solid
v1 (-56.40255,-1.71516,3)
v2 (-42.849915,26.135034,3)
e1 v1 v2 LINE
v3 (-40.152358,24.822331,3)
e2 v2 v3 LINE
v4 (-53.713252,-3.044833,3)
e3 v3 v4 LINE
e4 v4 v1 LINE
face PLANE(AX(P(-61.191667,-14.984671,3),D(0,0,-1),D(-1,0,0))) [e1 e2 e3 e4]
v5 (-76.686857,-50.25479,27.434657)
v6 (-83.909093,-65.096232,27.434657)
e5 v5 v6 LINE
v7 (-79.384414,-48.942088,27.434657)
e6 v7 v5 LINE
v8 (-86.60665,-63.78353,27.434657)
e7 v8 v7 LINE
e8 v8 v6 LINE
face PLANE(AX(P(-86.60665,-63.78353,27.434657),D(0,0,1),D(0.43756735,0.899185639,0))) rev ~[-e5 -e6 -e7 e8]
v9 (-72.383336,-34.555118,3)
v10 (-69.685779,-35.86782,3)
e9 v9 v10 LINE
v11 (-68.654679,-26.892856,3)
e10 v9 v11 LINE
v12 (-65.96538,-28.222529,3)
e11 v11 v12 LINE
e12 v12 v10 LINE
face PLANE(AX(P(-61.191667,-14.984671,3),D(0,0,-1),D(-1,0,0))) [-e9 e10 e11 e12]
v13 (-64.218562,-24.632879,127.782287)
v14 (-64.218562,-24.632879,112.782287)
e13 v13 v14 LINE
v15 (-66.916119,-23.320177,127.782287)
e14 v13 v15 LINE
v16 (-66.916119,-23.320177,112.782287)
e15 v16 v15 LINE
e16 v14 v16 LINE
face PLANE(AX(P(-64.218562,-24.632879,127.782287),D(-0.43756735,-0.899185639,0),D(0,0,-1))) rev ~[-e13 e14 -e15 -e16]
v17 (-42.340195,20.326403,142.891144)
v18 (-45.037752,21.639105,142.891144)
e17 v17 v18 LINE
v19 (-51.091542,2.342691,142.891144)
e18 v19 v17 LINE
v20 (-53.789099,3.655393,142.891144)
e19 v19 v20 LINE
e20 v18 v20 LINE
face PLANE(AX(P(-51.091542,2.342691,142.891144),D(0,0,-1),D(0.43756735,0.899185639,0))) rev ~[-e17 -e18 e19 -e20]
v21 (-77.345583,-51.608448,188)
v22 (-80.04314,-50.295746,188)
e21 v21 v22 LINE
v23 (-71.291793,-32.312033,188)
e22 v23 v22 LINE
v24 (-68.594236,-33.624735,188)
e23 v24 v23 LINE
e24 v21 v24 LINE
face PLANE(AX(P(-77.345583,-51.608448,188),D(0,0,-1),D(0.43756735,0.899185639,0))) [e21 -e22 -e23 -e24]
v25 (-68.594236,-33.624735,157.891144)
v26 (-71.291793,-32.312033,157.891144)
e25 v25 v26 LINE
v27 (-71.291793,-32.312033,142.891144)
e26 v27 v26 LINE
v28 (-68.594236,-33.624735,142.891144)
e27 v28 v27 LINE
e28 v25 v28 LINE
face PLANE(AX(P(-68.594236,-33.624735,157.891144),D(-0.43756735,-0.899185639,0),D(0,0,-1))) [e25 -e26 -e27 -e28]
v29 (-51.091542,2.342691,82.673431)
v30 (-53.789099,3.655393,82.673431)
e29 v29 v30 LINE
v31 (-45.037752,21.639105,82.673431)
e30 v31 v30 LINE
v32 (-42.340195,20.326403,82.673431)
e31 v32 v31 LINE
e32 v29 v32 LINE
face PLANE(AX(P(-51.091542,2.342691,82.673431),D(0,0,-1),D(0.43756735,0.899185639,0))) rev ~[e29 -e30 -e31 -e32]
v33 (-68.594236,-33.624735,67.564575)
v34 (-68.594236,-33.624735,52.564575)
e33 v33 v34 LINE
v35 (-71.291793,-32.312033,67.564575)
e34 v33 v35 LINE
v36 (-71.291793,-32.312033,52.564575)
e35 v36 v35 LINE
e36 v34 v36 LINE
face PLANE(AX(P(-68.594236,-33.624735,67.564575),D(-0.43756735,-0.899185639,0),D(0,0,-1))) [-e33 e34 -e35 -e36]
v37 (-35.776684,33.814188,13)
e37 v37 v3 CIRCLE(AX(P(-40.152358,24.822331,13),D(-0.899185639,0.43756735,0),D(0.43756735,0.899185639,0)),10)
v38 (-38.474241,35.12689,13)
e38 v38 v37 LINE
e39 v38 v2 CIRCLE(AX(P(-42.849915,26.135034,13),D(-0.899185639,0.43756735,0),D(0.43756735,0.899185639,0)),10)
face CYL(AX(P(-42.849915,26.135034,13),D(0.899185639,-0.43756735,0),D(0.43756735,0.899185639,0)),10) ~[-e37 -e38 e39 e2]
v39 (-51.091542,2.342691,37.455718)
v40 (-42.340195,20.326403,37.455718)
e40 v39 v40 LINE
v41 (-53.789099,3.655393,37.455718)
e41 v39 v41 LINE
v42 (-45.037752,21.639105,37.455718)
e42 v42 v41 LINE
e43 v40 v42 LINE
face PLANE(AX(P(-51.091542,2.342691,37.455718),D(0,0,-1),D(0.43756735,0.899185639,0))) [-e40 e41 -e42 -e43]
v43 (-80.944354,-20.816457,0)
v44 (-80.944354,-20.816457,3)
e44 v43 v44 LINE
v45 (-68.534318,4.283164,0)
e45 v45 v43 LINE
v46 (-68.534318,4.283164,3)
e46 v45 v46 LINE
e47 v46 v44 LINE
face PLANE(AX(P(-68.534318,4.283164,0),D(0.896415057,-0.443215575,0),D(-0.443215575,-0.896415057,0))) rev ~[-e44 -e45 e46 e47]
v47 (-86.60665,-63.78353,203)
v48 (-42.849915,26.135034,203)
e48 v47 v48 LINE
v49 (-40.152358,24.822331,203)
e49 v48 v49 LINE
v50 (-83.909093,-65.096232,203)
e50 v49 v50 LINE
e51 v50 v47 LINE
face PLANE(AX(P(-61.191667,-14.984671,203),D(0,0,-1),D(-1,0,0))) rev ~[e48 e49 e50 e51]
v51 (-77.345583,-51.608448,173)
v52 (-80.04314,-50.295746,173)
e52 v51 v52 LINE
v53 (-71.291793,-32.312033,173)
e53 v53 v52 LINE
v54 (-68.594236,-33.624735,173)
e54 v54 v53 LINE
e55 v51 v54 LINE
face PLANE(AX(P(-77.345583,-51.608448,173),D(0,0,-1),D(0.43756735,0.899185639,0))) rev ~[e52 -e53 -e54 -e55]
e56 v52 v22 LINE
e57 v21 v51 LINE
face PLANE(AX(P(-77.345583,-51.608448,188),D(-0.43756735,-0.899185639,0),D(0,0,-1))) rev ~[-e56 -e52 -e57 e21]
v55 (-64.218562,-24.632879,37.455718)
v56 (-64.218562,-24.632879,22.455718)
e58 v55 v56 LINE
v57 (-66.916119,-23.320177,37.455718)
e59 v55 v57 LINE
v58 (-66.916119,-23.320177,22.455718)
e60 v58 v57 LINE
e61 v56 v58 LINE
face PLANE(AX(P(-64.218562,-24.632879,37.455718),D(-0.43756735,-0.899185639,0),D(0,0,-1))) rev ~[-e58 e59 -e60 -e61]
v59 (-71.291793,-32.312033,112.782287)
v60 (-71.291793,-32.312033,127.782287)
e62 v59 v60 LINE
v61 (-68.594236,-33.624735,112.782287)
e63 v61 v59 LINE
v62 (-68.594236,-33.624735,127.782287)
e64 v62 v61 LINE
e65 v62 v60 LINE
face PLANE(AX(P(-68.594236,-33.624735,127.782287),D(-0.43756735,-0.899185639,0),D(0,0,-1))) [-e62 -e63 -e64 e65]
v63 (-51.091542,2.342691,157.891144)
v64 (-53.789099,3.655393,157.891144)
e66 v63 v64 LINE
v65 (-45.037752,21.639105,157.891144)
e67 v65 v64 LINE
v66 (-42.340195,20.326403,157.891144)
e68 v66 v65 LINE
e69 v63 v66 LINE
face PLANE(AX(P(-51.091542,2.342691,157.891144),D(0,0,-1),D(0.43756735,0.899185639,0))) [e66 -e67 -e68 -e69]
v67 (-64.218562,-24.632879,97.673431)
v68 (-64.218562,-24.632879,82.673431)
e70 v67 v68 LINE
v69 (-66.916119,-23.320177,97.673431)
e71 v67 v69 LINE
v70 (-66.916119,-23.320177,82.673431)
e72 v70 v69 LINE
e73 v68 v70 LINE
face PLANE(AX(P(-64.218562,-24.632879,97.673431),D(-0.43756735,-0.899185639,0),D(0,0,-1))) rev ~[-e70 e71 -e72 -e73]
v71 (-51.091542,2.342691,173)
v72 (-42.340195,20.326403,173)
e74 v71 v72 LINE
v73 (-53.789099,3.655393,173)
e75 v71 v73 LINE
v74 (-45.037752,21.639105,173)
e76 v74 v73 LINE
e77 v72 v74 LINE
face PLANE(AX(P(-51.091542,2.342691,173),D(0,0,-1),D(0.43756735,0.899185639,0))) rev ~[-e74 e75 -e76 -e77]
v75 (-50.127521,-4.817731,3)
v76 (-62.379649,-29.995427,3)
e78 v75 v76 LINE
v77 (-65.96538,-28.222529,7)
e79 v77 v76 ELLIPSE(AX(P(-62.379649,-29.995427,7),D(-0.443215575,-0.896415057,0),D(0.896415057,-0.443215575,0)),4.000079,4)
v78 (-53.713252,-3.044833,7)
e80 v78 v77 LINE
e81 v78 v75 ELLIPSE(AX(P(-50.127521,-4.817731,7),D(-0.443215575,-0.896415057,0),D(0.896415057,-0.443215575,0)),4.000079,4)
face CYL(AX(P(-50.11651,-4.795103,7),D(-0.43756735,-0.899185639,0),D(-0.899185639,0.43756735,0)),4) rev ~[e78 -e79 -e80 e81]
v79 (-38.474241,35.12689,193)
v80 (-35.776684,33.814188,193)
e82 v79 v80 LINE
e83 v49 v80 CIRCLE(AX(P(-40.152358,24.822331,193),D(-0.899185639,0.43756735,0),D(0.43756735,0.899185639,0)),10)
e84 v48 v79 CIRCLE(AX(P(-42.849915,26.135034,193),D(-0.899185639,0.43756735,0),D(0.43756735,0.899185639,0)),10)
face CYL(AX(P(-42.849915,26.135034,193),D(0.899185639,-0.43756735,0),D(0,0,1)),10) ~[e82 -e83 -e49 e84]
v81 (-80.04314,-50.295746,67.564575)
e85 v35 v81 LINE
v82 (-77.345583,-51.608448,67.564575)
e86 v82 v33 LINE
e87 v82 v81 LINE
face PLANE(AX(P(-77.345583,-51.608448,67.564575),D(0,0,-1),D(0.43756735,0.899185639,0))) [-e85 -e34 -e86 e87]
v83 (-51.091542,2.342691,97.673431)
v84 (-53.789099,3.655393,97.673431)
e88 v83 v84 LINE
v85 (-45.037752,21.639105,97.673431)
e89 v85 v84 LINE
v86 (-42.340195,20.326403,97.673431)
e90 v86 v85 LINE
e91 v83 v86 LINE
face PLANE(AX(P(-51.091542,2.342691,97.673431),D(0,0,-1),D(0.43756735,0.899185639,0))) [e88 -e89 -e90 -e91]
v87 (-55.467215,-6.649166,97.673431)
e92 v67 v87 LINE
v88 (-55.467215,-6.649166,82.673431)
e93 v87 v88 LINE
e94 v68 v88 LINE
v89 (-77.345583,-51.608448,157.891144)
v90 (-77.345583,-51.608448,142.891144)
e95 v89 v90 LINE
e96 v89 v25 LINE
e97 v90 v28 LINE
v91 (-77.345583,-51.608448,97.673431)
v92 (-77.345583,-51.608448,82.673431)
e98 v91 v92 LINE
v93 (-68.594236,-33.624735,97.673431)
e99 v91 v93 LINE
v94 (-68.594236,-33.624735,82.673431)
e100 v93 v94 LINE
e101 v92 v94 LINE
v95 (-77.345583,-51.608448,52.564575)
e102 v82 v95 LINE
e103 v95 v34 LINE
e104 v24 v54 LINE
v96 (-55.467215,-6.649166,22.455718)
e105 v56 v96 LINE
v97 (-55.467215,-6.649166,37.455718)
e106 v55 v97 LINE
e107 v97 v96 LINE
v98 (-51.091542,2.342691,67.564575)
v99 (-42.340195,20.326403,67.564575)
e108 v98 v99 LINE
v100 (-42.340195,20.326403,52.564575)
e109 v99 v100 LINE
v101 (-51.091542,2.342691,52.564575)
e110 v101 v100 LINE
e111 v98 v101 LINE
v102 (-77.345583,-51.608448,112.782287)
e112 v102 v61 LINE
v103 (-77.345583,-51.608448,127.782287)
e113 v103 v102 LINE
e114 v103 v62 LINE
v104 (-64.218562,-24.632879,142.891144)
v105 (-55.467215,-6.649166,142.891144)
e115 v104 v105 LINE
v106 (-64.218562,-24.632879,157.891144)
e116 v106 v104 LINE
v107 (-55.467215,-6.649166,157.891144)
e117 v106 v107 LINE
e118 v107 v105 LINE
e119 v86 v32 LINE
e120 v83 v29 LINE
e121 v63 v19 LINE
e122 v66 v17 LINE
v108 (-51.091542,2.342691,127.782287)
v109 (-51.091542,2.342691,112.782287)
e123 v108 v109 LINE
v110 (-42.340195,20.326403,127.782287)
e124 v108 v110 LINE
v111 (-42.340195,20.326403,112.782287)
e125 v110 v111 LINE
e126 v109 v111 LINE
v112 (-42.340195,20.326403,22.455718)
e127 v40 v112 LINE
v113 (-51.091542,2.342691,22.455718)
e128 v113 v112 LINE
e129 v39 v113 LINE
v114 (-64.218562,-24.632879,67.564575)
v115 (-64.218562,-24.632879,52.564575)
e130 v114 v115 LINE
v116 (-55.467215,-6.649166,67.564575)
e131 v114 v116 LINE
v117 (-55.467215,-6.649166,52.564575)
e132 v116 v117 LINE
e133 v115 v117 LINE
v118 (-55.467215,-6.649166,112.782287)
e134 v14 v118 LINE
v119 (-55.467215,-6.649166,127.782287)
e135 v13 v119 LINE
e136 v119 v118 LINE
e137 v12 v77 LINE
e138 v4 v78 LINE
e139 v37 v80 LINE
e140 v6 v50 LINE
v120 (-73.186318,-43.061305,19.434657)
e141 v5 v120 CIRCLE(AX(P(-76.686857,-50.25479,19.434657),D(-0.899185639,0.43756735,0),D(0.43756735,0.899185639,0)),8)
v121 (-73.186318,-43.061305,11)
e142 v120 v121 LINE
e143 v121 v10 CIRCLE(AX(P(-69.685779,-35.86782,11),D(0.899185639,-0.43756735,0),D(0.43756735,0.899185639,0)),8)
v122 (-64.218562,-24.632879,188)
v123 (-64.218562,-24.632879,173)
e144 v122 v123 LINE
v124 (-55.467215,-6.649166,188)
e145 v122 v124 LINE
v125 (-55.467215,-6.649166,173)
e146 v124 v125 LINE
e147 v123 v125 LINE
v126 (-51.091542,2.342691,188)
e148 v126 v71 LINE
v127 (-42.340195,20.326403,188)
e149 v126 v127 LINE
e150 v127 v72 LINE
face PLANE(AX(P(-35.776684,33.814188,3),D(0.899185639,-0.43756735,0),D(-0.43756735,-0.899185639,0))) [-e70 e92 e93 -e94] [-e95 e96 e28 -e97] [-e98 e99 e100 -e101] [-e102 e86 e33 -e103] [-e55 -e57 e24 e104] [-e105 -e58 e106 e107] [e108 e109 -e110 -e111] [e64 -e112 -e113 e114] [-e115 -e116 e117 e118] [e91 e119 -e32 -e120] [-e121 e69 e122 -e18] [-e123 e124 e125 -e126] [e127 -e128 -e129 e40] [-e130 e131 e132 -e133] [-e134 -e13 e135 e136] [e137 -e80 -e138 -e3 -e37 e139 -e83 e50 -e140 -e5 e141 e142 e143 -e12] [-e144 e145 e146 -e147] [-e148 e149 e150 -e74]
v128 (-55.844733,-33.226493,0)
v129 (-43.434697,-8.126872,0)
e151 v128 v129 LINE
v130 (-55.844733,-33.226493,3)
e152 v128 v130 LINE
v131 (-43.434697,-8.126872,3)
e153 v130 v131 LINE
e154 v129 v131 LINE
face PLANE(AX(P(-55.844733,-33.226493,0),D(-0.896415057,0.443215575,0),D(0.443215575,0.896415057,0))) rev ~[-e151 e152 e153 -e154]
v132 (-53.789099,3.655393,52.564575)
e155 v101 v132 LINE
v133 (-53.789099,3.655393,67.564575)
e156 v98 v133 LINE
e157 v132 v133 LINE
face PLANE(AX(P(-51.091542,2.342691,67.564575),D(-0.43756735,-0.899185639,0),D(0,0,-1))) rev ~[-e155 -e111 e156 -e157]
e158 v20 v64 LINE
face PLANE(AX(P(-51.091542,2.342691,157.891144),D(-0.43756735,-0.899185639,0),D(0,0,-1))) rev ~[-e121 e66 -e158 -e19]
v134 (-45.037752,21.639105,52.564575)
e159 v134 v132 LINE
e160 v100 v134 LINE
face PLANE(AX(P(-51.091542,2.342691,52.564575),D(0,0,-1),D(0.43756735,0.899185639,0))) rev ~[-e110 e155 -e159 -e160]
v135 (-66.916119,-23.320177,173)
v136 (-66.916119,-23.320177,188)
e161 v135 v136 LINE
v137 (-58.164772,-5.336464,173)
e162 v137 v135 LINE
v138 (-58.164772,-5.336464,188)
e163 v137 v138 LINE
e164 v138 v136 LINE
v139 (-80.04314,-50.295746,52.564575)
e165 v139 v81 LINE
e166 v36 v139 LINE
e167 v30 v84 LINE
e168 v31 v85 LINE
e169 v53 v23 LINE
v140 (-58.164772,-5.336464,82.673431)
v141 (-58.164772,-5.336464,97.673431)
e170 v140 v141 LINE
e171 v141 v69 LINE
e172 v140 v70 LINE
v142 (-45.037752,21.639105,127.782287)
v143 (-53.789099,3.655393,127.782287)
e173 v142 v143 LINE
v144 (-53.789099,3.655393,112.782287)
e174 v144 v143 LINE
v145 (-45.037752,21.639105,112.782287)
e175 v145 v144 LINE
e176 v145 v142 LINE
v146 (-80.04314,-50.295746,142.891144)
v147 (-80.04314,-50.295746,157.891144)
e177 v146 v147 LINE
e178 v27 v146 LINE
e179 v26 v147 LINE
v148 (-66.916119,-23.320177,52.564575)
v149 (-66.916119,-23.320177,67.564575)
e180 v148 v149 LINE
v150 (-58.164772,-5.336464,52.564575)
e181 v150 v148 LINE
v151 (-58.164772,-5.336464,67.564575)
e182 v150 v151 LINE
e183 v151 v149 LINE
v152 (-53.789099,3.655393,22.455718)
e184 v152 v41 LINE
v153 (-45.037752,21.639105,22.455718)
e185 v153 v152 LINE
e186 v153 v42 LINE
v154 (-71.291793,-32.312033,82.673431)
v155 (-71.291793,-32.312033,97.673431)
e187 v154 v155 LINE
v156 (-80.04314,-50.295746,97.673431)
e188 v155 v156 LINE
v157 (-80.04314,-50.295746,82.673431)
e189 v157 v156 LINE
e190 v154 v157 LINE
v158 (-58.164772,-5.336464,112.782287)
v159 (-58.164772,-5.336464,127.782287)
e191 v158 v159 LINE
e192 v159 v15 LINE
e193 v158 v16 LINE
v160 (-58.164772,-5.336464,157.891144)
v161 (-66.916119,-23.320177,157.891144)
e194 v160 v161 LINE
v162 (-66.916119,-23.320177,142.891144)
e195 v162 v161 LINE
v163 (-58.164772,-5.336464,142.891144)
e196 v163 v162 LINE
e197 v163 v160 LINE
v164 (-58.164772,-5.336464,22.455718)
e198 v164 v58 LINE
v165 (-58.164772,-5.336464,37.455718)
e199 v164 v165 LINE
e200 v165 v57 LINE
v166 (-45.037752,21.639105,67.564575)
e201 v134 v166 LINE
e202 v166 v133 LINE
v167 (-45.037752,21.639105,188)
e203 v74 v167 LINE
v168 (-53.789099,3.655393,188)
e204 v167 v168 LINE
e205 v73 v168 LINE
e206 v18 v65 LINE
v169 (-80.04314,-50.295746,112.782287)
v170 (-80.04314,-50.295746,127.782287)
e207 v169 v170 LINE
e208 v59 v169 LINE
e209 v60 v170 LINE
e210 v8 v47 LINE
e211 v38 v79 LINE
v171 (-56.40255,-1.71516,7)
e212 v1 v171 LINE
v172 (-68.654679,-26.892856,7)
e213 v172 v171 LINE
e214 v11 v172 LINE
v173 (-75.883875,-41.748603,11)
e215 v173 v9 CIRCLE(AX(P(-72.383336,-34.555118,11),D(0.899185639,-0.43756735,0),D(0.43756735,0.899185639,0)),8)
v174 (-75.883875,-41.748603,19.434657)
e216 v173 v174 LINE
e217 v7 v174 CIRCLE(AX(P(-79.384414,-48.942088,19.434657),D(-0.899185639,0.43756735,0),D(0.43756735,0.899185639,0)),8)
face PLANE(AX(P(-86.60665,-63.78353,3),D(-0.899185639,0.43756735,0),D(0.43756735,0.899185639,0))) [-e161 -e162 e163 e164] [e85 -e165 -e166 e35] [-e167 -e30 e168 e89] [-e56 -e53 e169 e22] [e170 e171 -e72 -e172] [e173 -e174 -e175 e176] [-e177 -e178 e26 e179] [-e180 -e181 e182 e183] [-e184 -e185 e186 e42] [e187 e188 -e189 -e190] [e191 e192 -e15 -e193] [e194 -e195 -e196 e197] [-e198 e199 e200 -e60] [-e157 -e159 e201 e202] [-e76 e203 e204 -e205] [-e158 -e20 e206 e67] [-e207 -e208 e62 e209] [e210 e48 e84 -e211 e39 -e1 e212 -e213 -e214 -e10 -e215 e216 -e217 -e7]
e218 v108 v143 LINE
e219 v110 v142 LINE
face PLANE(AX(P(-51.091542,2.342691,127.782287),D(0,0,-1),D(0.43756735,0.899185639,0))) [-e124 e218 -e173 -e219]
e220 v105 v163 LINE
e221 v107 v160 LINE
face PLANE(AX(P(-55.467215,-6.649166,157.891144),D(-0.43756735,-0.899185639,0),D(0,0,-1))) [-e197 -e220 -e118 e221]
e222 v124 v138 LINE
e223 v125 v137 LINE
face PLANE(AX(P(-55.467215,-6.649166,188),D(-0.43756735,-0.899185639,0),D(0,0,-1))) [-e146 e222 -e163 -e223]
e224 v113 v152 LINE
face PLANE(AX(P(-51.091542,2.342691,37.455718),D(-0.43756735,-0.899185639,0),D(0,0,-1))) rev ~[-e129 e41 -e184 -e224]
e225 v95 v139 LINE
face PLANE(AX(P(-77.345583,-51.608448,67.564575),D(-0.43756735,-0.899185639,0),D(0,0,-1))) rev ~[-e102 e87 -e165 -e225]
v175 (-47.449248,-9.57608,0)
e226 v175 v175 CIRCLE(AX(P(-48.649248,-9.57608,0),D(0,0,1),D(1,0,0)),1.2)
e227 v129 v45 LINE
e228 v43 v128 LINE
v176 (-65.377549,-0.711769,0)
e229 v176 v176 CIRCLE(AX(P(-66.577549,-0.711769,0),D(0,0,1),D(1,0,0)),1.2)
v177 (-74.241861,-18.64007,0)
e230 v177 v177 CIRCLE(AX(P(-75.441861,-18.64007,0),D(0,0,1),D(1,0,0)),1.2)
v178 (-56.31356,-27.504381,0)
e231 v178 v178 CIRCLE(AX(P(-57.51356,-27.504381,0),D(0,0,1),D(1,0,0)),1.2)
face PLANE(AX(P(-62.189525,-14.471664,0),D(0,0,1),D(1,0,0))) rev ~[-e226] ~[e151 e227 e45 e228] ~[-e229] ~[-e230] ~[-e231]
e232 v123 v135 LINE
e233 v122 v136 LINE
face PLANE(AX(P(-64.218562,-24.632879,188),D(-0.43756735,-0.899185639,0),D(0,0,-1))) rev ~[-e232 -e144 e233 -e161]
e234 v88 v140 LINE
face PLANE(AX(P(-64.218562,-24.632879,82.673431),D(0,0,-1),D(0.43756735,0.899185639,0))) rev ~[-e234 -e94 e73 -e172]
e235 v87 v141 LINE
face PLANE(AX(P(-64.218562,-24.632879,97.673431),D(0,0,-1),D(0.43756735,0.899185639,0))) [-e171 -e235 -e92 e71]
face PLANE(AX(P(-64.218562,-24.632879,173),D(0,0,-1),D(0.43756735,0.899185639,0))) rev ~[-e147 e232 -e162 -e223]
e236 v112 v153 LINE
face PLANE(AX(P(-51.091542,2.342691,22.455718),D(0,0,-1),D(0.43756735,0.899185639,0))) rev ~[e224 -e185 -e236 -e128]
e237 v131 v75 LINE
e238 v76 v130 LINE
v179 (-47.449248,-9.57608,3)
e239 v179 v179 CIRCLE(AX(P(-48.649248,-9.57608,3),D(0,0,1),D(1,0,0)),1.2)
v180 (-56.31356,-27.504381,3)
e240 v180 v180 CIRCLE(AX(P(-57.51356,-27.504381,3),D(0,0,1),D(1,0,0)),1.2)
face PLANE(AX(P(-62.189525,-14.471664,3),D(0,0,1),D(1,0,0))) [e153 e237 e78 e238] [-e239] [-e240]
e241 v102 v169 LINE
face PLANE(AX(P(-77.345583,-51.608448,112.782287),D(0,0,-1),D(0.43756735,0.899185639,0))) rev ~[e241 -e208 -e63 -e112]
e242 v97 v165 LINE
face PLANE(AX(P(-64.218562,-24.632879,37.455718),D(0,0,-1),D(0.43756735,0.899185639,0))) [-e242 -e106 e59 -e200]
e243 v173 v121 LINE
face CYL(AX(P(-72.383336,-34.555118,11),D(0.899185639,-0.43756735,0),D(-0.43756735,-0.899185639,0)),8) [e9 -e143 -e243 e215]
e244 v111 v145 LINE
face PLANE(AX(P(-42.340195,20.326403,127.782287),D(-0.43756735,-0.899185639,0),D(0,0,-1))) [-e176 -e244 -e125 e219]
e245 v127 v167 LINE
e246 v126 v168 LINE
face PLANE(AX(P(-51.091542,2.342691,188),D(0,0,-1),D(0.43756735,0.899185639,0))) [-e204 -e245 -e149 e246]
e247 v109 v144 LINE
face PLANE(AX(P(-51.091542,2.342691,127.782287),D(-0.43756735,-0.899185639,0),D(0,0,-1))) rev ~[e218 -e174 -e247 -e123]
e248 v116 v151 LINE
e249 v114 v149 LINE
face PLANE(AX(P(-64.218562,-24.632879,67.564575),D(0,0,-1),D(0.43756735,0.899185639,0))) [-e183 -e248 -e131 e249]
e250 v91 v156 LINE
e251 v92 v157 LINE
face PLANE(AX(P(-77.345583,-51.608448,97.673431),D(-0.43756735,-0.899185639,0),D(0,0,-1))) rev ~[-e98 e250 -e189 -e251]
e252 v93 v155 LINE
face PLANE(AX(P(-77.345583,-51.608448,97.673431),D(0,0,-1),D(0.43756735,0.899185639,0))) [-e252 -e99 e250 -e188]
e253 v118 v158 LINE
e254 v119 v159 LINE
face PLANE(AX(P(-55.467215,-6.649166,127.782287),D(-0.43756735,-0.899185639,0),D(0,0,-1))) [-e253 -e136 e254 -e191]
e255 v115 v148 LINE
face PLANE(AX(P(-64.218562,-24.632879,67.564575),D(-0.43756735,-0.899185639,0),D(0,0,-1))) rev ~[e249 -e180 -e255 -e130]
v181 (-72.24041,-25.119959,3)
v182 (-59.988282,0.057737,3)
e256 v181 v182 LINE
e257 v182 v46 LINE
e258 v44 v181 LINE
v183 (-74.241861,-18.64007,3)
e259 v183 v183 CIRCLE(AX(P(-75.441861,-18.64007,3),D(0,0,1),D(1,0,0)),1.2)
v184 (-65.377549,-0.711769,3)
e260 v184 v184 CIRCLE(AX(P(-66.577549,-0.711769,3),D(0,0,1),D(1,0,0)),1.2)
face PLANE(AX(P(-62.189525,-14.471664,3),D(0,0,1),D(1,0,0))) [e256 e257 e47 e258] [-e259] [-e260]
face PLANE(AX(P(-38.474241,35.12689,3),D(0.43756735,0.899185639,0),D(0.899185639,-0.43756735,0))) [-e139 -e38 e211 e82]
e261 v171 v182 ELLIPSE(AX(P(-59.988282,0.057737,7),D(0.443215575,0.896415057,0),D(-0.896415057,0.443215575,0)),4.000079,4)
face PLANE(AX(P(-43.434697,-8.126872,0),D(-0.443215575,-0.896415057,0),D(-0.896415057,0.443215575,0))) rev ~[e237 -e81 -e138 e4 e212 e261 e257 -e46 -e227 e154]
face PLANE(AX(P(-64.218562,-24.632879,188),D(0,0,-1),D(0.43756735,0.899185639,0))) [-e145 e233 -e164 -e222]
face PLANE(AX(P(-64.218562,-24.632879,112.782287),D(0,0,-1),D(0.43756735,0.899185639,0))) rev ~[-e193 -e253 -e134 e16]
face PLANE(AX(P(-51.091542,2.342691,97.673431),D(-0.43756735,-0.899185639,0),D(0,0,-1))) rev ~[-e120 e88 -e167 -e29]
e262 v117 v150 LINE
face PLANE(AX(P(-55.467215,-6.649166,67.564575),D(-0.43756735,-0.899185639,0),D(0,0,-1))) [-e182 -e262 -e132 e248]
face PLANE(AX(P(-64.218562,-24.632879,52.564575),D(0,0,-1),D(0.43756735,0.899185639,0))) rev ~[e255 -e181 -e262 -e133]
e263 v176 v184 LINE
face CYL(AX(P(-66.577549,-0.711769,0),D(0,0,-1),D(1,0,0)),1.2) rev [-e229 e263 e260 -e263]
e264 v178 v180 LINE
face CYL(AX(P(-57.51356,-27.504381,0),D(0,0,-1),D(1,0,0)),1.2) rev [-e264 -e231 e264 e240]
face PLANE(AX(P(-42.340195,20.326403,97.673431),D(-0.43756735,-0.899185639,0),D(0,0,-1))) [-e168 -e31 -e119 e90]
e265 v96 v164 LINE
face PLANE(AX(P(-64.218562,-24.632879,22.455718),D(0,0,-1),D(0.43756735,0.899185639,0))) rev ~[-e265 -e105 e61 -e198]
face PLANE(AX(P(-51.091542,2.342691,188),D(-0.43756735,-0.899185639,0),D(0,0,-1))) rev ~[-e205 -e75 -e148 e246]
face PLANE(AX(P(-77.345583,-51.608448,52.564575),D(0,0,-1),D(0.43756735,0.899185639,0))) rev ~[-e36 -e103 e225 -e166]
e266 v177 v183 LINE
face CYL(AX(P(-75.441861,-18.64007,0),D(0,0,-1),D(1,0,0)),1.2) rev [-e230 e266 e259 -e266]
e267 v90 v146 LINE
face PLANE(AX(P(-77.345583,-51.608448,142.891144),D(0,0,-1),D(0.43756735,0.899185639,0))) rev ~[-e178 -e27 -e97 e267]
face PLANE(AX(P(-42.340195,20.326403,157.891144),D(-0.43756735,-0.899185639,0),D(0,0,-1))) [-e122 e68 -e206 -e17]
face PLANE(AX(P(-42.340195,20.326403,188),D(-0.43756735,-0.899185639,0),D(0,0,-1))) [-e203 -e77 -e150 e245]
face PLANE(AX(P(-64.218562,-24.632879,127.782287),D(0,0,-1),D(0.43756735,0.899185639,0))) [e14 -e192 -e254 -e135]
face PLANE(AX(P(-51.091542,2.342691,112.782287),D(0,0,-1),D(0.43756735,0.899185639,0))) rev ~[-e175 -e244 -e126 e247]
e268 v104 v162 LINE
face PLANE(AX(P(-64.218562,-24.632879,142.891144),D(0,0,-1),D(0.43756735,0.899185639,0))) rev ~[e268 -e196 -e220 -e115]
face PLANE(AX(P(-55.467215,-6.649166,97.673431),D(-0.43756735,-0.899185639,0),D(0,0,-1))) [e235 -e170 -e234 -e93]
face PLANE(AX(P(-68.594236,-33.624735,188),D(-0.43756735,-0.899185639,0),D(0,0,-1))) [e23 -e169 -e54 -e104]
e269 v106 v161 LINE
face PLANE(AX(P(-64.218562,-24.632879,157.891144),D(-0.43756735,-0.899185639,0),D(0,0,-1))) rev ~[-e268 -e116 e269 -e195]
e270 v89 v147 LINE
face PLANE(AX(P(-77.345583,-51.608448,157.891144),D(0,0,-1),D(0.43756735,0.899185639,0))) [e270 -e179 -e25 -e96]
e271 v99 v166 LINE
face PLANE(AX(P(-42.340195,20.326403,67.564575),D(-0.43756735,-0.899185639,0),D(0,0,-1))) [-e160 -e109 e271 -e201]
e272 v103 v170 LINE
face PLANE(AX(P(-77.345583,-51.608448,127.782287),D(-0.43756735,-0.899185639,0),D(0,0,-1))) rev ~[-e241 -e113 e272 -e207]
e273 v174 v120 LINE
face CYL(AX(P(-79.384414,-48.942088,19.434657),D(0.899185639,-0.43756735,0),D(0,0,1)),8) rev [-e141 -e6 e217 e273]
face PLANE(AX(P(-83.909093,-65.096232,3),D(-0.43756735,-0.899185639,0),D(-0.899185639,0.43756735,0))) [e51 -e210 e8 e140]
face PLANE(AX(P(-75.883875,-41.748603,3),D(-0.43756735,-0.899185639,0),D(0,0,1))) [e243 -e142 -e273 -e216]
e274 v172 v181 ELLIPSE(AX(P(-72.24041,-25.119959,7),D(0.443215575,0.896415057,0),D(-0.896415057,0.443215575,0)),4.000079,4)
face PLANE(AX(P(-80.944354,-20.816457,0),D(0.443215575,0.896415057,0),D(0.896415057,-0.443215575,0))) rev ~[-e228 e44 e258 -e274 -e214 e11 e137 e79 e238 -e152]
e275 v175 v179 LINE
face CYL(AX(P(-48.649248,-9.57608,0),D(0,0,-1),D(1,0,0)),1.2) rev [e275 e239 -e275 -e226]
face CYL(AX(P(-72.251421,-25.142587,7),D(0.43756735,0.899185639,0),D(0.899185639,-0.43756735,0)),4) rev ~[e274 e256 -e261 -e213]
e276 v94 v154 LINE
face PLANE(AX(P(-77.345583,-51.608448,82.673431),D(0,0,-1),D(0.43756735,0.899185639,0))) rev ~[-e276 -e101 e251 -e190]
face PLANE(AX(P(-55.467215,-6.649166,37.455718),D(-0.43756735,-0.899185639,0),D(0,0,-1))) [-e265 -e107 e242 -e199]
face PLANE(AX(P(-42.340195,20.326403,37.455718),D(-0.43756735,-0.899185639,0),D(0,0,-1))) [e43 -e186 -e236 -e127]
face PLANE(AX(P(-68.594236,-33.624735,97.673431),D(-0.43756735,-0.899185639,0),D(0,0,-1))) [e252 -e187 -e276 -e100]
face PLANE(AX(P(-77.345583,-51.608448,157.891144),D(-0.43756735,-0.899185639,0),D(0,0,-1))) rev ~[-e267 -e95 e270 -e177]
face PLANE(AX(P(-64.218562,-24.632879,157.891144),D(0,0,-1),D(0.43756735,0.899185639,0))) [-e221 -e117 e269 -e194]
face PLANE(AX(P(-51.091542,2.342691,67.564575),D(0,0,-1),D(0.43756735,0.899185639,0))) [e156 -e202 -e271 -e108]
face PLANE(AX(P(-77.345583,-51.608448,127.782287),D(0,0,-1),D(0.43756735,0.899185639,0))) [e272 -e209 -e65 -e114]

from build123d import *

# Parameters (mm, degrees)
SKETCH_1_R          = 1.2
EXTRUDE_1_DEPTH     = 3
EXTRUDE_2_DEPTH     = 200
FILLET_1_R          = 4
SKETCH_4_W          = 24.434656606
SKETCH_4_H          = 24.505426632
CUT_EXTRUDE_1_DEPTH = 4
FILLET_3_R          = 8
SKETCH_5_W          = 15
SKETCH_5_H          = 20
CUT_EXTRUDE_2_DEPTH = 10
FILLET_4_R          = 10
FILLET_5_R          = 10


with BuildPart() as part:
    # 草图1 → 凸台-拉伸1 (new body)
    with BuildSketch(Plane.XY):
        Polygon((-68.534318099, 4.283164377), (-80.94435421, -20.816457208), (-55.844732625, -33.22649332), (-43.434696514, -8.126871734), align=None)
        with Locations((-66.577549394, -0.711768645)):
            Circle(SKETCH_1_R, mode=Mode.SUBTRACT)
        with Locations((-75.441860902, -18.640069777)):
            Circle(SKETCH_1_R, mode=Mode.SUBTRACT)
        with Locations((-57.51355977, -27.504381286)):
            Circle(SKETCH_1_R, mode=Mode.SUBTRACT)
        with Locations((-48.649248262, -9.576080153)):
            Circle(SKETCH_1_R, mode=Mode.SUBTRACT)
    extrude(amount=EXTRUDE_1_DEPTH)

    # 草图2 → 凸台-拉伸2 (add)
    with BuildSketch(Plane.XY.offset(3)):
        Polygon((-86.606649797, -63.783530386), (-38.474241258, 35.126889936), (-35.77668434, 33.814187885), (-83.909092879, -65.096232437), align=None)
    extrude(amount=EXTRUDE_2_DEPTH)

    # 圆角1
    fillet_1_edges = [part.edges().sort_by_distance(p)[0] for p in [
        (-59.839316246, -15.633681193, 3),
        (-62.528614635, -14.304008154, 3),
    ]]
    fillet(fillet_1_edges, radius=FILLET_1_R)

    # 草图4 → 切除-拉伸1 (cut)
    with BuildSketch(Plane(origin=(-44.928588602, 21.863431321, 0), x_dir=(0, 0, 1), z_dir=(-0.8991856392880848, 0.43756735035658034, 0))):
        with Locations((15.217328303, -82.996763505)):
            Rectangle(SKETCH_4_W, SKETCH_4_H)
    extrude(amount=-CUT_EXTRUDE_1_DEPTH, mode=Mode.SUBTRACT)

    # 圆角3
    fillet_3_edges = [part.edges().sort_by_distance(p)[0] for p in [
        (-74.535096738, -42.4049537, 3),
        (-74.535096738, -42.4049537, 27.434656606),
    ]]
    fillet(fillet_3_edges, radius=FILLET_3_R)

    # 草图5 → 切除-拉伸2 (cut)
    with BuildSketch(Plane(origin=(-42.231031684, 20.55072927, 0), x_dir=(0, 0, -1), z_dir=(0.8991856392880848, -0.4375673503565804, 0))):
        with Locations((-60.064574797, -10.249476821)):
            Rectangle(SKETCH_5_W, SKETCH_5_H)
        with Locations((-29.955718497, -10.249476821)):
            Rectangle(SKETCH_5_W, SKETCH_5_H)
        with Locations((-90.173431098, -10.249476821)):
            Rectangle(SKETCH_5_W, SKETCH_5_H)
        with Locations((-120.282287399, -10.249476821)):
            Rectangle(SKETCH_5_W, SKETCH_5_H)
        with Locations((-150.391143699, -10.249476821)):
            Rectangle(SKETCH_5_W, SKETCH_5_H)
        with Locations((-180.5, -10.249476821)):
            Rectangle(SKETCH_5_W, SKETCH_5_H)
        with Locations((-60.064574797, -40.249476821)):
            Rectangle(SKETCH_5_W, SKETCH_5_H)
        with Locations((-90.173431098, -40.249476821)):
            Rectangle(SKETCH_5_W, SKETCH_5_H)
        with Locations((-120.282287399, -40.249476821)):
            Rectangle(SKETCH_5_W, SKETCH_5_H)
        with Locations((-150.391143699, -40.249476821)):
            Rectangle(SKETCH_5_W, SKETCH_5_H)
        with Locations((-180.5, -40.249476821)):
            Rectangle(SKETCH_5_W, SKETCH_5_H)
        with Locations((-60.064574797, -70.249476821)):
            Rectangle(SKETCH_5_W, SKETCH_5_H)
        with Locations((-90.173431098, -70.249476821)):
            Rectangle(SKETCH_5_W, SKETCH_5_H)
        with Locations((-120.282287399, -70.249476821)):
            Rectangle(SKETCH_5_W, SKETCH_5_H)
        with Locations((-150.391143699, -70.249476821)):
            Rectangle(SKETCH_5_W, SKETCH_5_H)
        with Locations((-180.5, -70.249476821)):
            Rectangle(SKETCH_5_W, SKETCH_5_H)
        with Locations((-29.955718497, -40.249476821)):
            Rectangle(SKETCH_5_W, SKETCH_5_H)
    extrude(amount=-CUT_EXTRUDE_2_DEPTH, mode=Mode.SUBTRACT)

    # 圆角4
    fillet_4_edges = [part.edges().sort_by_distance(p)[0] for p in [
        (-37.125462799, 34.470538911, 203),
    ]]
    fillet(fillet_4_edges, radius=FILLET_4_R)

    # 圆角5
    fillet_5_edges = [part.edges().sort_by_distance(p)[0] for p in [
        (-37.125462799, 34.470538911, 3),
    ]]
    fillet(fillet_5_edges, radius=FILLET_5_R)


solid = part.part
